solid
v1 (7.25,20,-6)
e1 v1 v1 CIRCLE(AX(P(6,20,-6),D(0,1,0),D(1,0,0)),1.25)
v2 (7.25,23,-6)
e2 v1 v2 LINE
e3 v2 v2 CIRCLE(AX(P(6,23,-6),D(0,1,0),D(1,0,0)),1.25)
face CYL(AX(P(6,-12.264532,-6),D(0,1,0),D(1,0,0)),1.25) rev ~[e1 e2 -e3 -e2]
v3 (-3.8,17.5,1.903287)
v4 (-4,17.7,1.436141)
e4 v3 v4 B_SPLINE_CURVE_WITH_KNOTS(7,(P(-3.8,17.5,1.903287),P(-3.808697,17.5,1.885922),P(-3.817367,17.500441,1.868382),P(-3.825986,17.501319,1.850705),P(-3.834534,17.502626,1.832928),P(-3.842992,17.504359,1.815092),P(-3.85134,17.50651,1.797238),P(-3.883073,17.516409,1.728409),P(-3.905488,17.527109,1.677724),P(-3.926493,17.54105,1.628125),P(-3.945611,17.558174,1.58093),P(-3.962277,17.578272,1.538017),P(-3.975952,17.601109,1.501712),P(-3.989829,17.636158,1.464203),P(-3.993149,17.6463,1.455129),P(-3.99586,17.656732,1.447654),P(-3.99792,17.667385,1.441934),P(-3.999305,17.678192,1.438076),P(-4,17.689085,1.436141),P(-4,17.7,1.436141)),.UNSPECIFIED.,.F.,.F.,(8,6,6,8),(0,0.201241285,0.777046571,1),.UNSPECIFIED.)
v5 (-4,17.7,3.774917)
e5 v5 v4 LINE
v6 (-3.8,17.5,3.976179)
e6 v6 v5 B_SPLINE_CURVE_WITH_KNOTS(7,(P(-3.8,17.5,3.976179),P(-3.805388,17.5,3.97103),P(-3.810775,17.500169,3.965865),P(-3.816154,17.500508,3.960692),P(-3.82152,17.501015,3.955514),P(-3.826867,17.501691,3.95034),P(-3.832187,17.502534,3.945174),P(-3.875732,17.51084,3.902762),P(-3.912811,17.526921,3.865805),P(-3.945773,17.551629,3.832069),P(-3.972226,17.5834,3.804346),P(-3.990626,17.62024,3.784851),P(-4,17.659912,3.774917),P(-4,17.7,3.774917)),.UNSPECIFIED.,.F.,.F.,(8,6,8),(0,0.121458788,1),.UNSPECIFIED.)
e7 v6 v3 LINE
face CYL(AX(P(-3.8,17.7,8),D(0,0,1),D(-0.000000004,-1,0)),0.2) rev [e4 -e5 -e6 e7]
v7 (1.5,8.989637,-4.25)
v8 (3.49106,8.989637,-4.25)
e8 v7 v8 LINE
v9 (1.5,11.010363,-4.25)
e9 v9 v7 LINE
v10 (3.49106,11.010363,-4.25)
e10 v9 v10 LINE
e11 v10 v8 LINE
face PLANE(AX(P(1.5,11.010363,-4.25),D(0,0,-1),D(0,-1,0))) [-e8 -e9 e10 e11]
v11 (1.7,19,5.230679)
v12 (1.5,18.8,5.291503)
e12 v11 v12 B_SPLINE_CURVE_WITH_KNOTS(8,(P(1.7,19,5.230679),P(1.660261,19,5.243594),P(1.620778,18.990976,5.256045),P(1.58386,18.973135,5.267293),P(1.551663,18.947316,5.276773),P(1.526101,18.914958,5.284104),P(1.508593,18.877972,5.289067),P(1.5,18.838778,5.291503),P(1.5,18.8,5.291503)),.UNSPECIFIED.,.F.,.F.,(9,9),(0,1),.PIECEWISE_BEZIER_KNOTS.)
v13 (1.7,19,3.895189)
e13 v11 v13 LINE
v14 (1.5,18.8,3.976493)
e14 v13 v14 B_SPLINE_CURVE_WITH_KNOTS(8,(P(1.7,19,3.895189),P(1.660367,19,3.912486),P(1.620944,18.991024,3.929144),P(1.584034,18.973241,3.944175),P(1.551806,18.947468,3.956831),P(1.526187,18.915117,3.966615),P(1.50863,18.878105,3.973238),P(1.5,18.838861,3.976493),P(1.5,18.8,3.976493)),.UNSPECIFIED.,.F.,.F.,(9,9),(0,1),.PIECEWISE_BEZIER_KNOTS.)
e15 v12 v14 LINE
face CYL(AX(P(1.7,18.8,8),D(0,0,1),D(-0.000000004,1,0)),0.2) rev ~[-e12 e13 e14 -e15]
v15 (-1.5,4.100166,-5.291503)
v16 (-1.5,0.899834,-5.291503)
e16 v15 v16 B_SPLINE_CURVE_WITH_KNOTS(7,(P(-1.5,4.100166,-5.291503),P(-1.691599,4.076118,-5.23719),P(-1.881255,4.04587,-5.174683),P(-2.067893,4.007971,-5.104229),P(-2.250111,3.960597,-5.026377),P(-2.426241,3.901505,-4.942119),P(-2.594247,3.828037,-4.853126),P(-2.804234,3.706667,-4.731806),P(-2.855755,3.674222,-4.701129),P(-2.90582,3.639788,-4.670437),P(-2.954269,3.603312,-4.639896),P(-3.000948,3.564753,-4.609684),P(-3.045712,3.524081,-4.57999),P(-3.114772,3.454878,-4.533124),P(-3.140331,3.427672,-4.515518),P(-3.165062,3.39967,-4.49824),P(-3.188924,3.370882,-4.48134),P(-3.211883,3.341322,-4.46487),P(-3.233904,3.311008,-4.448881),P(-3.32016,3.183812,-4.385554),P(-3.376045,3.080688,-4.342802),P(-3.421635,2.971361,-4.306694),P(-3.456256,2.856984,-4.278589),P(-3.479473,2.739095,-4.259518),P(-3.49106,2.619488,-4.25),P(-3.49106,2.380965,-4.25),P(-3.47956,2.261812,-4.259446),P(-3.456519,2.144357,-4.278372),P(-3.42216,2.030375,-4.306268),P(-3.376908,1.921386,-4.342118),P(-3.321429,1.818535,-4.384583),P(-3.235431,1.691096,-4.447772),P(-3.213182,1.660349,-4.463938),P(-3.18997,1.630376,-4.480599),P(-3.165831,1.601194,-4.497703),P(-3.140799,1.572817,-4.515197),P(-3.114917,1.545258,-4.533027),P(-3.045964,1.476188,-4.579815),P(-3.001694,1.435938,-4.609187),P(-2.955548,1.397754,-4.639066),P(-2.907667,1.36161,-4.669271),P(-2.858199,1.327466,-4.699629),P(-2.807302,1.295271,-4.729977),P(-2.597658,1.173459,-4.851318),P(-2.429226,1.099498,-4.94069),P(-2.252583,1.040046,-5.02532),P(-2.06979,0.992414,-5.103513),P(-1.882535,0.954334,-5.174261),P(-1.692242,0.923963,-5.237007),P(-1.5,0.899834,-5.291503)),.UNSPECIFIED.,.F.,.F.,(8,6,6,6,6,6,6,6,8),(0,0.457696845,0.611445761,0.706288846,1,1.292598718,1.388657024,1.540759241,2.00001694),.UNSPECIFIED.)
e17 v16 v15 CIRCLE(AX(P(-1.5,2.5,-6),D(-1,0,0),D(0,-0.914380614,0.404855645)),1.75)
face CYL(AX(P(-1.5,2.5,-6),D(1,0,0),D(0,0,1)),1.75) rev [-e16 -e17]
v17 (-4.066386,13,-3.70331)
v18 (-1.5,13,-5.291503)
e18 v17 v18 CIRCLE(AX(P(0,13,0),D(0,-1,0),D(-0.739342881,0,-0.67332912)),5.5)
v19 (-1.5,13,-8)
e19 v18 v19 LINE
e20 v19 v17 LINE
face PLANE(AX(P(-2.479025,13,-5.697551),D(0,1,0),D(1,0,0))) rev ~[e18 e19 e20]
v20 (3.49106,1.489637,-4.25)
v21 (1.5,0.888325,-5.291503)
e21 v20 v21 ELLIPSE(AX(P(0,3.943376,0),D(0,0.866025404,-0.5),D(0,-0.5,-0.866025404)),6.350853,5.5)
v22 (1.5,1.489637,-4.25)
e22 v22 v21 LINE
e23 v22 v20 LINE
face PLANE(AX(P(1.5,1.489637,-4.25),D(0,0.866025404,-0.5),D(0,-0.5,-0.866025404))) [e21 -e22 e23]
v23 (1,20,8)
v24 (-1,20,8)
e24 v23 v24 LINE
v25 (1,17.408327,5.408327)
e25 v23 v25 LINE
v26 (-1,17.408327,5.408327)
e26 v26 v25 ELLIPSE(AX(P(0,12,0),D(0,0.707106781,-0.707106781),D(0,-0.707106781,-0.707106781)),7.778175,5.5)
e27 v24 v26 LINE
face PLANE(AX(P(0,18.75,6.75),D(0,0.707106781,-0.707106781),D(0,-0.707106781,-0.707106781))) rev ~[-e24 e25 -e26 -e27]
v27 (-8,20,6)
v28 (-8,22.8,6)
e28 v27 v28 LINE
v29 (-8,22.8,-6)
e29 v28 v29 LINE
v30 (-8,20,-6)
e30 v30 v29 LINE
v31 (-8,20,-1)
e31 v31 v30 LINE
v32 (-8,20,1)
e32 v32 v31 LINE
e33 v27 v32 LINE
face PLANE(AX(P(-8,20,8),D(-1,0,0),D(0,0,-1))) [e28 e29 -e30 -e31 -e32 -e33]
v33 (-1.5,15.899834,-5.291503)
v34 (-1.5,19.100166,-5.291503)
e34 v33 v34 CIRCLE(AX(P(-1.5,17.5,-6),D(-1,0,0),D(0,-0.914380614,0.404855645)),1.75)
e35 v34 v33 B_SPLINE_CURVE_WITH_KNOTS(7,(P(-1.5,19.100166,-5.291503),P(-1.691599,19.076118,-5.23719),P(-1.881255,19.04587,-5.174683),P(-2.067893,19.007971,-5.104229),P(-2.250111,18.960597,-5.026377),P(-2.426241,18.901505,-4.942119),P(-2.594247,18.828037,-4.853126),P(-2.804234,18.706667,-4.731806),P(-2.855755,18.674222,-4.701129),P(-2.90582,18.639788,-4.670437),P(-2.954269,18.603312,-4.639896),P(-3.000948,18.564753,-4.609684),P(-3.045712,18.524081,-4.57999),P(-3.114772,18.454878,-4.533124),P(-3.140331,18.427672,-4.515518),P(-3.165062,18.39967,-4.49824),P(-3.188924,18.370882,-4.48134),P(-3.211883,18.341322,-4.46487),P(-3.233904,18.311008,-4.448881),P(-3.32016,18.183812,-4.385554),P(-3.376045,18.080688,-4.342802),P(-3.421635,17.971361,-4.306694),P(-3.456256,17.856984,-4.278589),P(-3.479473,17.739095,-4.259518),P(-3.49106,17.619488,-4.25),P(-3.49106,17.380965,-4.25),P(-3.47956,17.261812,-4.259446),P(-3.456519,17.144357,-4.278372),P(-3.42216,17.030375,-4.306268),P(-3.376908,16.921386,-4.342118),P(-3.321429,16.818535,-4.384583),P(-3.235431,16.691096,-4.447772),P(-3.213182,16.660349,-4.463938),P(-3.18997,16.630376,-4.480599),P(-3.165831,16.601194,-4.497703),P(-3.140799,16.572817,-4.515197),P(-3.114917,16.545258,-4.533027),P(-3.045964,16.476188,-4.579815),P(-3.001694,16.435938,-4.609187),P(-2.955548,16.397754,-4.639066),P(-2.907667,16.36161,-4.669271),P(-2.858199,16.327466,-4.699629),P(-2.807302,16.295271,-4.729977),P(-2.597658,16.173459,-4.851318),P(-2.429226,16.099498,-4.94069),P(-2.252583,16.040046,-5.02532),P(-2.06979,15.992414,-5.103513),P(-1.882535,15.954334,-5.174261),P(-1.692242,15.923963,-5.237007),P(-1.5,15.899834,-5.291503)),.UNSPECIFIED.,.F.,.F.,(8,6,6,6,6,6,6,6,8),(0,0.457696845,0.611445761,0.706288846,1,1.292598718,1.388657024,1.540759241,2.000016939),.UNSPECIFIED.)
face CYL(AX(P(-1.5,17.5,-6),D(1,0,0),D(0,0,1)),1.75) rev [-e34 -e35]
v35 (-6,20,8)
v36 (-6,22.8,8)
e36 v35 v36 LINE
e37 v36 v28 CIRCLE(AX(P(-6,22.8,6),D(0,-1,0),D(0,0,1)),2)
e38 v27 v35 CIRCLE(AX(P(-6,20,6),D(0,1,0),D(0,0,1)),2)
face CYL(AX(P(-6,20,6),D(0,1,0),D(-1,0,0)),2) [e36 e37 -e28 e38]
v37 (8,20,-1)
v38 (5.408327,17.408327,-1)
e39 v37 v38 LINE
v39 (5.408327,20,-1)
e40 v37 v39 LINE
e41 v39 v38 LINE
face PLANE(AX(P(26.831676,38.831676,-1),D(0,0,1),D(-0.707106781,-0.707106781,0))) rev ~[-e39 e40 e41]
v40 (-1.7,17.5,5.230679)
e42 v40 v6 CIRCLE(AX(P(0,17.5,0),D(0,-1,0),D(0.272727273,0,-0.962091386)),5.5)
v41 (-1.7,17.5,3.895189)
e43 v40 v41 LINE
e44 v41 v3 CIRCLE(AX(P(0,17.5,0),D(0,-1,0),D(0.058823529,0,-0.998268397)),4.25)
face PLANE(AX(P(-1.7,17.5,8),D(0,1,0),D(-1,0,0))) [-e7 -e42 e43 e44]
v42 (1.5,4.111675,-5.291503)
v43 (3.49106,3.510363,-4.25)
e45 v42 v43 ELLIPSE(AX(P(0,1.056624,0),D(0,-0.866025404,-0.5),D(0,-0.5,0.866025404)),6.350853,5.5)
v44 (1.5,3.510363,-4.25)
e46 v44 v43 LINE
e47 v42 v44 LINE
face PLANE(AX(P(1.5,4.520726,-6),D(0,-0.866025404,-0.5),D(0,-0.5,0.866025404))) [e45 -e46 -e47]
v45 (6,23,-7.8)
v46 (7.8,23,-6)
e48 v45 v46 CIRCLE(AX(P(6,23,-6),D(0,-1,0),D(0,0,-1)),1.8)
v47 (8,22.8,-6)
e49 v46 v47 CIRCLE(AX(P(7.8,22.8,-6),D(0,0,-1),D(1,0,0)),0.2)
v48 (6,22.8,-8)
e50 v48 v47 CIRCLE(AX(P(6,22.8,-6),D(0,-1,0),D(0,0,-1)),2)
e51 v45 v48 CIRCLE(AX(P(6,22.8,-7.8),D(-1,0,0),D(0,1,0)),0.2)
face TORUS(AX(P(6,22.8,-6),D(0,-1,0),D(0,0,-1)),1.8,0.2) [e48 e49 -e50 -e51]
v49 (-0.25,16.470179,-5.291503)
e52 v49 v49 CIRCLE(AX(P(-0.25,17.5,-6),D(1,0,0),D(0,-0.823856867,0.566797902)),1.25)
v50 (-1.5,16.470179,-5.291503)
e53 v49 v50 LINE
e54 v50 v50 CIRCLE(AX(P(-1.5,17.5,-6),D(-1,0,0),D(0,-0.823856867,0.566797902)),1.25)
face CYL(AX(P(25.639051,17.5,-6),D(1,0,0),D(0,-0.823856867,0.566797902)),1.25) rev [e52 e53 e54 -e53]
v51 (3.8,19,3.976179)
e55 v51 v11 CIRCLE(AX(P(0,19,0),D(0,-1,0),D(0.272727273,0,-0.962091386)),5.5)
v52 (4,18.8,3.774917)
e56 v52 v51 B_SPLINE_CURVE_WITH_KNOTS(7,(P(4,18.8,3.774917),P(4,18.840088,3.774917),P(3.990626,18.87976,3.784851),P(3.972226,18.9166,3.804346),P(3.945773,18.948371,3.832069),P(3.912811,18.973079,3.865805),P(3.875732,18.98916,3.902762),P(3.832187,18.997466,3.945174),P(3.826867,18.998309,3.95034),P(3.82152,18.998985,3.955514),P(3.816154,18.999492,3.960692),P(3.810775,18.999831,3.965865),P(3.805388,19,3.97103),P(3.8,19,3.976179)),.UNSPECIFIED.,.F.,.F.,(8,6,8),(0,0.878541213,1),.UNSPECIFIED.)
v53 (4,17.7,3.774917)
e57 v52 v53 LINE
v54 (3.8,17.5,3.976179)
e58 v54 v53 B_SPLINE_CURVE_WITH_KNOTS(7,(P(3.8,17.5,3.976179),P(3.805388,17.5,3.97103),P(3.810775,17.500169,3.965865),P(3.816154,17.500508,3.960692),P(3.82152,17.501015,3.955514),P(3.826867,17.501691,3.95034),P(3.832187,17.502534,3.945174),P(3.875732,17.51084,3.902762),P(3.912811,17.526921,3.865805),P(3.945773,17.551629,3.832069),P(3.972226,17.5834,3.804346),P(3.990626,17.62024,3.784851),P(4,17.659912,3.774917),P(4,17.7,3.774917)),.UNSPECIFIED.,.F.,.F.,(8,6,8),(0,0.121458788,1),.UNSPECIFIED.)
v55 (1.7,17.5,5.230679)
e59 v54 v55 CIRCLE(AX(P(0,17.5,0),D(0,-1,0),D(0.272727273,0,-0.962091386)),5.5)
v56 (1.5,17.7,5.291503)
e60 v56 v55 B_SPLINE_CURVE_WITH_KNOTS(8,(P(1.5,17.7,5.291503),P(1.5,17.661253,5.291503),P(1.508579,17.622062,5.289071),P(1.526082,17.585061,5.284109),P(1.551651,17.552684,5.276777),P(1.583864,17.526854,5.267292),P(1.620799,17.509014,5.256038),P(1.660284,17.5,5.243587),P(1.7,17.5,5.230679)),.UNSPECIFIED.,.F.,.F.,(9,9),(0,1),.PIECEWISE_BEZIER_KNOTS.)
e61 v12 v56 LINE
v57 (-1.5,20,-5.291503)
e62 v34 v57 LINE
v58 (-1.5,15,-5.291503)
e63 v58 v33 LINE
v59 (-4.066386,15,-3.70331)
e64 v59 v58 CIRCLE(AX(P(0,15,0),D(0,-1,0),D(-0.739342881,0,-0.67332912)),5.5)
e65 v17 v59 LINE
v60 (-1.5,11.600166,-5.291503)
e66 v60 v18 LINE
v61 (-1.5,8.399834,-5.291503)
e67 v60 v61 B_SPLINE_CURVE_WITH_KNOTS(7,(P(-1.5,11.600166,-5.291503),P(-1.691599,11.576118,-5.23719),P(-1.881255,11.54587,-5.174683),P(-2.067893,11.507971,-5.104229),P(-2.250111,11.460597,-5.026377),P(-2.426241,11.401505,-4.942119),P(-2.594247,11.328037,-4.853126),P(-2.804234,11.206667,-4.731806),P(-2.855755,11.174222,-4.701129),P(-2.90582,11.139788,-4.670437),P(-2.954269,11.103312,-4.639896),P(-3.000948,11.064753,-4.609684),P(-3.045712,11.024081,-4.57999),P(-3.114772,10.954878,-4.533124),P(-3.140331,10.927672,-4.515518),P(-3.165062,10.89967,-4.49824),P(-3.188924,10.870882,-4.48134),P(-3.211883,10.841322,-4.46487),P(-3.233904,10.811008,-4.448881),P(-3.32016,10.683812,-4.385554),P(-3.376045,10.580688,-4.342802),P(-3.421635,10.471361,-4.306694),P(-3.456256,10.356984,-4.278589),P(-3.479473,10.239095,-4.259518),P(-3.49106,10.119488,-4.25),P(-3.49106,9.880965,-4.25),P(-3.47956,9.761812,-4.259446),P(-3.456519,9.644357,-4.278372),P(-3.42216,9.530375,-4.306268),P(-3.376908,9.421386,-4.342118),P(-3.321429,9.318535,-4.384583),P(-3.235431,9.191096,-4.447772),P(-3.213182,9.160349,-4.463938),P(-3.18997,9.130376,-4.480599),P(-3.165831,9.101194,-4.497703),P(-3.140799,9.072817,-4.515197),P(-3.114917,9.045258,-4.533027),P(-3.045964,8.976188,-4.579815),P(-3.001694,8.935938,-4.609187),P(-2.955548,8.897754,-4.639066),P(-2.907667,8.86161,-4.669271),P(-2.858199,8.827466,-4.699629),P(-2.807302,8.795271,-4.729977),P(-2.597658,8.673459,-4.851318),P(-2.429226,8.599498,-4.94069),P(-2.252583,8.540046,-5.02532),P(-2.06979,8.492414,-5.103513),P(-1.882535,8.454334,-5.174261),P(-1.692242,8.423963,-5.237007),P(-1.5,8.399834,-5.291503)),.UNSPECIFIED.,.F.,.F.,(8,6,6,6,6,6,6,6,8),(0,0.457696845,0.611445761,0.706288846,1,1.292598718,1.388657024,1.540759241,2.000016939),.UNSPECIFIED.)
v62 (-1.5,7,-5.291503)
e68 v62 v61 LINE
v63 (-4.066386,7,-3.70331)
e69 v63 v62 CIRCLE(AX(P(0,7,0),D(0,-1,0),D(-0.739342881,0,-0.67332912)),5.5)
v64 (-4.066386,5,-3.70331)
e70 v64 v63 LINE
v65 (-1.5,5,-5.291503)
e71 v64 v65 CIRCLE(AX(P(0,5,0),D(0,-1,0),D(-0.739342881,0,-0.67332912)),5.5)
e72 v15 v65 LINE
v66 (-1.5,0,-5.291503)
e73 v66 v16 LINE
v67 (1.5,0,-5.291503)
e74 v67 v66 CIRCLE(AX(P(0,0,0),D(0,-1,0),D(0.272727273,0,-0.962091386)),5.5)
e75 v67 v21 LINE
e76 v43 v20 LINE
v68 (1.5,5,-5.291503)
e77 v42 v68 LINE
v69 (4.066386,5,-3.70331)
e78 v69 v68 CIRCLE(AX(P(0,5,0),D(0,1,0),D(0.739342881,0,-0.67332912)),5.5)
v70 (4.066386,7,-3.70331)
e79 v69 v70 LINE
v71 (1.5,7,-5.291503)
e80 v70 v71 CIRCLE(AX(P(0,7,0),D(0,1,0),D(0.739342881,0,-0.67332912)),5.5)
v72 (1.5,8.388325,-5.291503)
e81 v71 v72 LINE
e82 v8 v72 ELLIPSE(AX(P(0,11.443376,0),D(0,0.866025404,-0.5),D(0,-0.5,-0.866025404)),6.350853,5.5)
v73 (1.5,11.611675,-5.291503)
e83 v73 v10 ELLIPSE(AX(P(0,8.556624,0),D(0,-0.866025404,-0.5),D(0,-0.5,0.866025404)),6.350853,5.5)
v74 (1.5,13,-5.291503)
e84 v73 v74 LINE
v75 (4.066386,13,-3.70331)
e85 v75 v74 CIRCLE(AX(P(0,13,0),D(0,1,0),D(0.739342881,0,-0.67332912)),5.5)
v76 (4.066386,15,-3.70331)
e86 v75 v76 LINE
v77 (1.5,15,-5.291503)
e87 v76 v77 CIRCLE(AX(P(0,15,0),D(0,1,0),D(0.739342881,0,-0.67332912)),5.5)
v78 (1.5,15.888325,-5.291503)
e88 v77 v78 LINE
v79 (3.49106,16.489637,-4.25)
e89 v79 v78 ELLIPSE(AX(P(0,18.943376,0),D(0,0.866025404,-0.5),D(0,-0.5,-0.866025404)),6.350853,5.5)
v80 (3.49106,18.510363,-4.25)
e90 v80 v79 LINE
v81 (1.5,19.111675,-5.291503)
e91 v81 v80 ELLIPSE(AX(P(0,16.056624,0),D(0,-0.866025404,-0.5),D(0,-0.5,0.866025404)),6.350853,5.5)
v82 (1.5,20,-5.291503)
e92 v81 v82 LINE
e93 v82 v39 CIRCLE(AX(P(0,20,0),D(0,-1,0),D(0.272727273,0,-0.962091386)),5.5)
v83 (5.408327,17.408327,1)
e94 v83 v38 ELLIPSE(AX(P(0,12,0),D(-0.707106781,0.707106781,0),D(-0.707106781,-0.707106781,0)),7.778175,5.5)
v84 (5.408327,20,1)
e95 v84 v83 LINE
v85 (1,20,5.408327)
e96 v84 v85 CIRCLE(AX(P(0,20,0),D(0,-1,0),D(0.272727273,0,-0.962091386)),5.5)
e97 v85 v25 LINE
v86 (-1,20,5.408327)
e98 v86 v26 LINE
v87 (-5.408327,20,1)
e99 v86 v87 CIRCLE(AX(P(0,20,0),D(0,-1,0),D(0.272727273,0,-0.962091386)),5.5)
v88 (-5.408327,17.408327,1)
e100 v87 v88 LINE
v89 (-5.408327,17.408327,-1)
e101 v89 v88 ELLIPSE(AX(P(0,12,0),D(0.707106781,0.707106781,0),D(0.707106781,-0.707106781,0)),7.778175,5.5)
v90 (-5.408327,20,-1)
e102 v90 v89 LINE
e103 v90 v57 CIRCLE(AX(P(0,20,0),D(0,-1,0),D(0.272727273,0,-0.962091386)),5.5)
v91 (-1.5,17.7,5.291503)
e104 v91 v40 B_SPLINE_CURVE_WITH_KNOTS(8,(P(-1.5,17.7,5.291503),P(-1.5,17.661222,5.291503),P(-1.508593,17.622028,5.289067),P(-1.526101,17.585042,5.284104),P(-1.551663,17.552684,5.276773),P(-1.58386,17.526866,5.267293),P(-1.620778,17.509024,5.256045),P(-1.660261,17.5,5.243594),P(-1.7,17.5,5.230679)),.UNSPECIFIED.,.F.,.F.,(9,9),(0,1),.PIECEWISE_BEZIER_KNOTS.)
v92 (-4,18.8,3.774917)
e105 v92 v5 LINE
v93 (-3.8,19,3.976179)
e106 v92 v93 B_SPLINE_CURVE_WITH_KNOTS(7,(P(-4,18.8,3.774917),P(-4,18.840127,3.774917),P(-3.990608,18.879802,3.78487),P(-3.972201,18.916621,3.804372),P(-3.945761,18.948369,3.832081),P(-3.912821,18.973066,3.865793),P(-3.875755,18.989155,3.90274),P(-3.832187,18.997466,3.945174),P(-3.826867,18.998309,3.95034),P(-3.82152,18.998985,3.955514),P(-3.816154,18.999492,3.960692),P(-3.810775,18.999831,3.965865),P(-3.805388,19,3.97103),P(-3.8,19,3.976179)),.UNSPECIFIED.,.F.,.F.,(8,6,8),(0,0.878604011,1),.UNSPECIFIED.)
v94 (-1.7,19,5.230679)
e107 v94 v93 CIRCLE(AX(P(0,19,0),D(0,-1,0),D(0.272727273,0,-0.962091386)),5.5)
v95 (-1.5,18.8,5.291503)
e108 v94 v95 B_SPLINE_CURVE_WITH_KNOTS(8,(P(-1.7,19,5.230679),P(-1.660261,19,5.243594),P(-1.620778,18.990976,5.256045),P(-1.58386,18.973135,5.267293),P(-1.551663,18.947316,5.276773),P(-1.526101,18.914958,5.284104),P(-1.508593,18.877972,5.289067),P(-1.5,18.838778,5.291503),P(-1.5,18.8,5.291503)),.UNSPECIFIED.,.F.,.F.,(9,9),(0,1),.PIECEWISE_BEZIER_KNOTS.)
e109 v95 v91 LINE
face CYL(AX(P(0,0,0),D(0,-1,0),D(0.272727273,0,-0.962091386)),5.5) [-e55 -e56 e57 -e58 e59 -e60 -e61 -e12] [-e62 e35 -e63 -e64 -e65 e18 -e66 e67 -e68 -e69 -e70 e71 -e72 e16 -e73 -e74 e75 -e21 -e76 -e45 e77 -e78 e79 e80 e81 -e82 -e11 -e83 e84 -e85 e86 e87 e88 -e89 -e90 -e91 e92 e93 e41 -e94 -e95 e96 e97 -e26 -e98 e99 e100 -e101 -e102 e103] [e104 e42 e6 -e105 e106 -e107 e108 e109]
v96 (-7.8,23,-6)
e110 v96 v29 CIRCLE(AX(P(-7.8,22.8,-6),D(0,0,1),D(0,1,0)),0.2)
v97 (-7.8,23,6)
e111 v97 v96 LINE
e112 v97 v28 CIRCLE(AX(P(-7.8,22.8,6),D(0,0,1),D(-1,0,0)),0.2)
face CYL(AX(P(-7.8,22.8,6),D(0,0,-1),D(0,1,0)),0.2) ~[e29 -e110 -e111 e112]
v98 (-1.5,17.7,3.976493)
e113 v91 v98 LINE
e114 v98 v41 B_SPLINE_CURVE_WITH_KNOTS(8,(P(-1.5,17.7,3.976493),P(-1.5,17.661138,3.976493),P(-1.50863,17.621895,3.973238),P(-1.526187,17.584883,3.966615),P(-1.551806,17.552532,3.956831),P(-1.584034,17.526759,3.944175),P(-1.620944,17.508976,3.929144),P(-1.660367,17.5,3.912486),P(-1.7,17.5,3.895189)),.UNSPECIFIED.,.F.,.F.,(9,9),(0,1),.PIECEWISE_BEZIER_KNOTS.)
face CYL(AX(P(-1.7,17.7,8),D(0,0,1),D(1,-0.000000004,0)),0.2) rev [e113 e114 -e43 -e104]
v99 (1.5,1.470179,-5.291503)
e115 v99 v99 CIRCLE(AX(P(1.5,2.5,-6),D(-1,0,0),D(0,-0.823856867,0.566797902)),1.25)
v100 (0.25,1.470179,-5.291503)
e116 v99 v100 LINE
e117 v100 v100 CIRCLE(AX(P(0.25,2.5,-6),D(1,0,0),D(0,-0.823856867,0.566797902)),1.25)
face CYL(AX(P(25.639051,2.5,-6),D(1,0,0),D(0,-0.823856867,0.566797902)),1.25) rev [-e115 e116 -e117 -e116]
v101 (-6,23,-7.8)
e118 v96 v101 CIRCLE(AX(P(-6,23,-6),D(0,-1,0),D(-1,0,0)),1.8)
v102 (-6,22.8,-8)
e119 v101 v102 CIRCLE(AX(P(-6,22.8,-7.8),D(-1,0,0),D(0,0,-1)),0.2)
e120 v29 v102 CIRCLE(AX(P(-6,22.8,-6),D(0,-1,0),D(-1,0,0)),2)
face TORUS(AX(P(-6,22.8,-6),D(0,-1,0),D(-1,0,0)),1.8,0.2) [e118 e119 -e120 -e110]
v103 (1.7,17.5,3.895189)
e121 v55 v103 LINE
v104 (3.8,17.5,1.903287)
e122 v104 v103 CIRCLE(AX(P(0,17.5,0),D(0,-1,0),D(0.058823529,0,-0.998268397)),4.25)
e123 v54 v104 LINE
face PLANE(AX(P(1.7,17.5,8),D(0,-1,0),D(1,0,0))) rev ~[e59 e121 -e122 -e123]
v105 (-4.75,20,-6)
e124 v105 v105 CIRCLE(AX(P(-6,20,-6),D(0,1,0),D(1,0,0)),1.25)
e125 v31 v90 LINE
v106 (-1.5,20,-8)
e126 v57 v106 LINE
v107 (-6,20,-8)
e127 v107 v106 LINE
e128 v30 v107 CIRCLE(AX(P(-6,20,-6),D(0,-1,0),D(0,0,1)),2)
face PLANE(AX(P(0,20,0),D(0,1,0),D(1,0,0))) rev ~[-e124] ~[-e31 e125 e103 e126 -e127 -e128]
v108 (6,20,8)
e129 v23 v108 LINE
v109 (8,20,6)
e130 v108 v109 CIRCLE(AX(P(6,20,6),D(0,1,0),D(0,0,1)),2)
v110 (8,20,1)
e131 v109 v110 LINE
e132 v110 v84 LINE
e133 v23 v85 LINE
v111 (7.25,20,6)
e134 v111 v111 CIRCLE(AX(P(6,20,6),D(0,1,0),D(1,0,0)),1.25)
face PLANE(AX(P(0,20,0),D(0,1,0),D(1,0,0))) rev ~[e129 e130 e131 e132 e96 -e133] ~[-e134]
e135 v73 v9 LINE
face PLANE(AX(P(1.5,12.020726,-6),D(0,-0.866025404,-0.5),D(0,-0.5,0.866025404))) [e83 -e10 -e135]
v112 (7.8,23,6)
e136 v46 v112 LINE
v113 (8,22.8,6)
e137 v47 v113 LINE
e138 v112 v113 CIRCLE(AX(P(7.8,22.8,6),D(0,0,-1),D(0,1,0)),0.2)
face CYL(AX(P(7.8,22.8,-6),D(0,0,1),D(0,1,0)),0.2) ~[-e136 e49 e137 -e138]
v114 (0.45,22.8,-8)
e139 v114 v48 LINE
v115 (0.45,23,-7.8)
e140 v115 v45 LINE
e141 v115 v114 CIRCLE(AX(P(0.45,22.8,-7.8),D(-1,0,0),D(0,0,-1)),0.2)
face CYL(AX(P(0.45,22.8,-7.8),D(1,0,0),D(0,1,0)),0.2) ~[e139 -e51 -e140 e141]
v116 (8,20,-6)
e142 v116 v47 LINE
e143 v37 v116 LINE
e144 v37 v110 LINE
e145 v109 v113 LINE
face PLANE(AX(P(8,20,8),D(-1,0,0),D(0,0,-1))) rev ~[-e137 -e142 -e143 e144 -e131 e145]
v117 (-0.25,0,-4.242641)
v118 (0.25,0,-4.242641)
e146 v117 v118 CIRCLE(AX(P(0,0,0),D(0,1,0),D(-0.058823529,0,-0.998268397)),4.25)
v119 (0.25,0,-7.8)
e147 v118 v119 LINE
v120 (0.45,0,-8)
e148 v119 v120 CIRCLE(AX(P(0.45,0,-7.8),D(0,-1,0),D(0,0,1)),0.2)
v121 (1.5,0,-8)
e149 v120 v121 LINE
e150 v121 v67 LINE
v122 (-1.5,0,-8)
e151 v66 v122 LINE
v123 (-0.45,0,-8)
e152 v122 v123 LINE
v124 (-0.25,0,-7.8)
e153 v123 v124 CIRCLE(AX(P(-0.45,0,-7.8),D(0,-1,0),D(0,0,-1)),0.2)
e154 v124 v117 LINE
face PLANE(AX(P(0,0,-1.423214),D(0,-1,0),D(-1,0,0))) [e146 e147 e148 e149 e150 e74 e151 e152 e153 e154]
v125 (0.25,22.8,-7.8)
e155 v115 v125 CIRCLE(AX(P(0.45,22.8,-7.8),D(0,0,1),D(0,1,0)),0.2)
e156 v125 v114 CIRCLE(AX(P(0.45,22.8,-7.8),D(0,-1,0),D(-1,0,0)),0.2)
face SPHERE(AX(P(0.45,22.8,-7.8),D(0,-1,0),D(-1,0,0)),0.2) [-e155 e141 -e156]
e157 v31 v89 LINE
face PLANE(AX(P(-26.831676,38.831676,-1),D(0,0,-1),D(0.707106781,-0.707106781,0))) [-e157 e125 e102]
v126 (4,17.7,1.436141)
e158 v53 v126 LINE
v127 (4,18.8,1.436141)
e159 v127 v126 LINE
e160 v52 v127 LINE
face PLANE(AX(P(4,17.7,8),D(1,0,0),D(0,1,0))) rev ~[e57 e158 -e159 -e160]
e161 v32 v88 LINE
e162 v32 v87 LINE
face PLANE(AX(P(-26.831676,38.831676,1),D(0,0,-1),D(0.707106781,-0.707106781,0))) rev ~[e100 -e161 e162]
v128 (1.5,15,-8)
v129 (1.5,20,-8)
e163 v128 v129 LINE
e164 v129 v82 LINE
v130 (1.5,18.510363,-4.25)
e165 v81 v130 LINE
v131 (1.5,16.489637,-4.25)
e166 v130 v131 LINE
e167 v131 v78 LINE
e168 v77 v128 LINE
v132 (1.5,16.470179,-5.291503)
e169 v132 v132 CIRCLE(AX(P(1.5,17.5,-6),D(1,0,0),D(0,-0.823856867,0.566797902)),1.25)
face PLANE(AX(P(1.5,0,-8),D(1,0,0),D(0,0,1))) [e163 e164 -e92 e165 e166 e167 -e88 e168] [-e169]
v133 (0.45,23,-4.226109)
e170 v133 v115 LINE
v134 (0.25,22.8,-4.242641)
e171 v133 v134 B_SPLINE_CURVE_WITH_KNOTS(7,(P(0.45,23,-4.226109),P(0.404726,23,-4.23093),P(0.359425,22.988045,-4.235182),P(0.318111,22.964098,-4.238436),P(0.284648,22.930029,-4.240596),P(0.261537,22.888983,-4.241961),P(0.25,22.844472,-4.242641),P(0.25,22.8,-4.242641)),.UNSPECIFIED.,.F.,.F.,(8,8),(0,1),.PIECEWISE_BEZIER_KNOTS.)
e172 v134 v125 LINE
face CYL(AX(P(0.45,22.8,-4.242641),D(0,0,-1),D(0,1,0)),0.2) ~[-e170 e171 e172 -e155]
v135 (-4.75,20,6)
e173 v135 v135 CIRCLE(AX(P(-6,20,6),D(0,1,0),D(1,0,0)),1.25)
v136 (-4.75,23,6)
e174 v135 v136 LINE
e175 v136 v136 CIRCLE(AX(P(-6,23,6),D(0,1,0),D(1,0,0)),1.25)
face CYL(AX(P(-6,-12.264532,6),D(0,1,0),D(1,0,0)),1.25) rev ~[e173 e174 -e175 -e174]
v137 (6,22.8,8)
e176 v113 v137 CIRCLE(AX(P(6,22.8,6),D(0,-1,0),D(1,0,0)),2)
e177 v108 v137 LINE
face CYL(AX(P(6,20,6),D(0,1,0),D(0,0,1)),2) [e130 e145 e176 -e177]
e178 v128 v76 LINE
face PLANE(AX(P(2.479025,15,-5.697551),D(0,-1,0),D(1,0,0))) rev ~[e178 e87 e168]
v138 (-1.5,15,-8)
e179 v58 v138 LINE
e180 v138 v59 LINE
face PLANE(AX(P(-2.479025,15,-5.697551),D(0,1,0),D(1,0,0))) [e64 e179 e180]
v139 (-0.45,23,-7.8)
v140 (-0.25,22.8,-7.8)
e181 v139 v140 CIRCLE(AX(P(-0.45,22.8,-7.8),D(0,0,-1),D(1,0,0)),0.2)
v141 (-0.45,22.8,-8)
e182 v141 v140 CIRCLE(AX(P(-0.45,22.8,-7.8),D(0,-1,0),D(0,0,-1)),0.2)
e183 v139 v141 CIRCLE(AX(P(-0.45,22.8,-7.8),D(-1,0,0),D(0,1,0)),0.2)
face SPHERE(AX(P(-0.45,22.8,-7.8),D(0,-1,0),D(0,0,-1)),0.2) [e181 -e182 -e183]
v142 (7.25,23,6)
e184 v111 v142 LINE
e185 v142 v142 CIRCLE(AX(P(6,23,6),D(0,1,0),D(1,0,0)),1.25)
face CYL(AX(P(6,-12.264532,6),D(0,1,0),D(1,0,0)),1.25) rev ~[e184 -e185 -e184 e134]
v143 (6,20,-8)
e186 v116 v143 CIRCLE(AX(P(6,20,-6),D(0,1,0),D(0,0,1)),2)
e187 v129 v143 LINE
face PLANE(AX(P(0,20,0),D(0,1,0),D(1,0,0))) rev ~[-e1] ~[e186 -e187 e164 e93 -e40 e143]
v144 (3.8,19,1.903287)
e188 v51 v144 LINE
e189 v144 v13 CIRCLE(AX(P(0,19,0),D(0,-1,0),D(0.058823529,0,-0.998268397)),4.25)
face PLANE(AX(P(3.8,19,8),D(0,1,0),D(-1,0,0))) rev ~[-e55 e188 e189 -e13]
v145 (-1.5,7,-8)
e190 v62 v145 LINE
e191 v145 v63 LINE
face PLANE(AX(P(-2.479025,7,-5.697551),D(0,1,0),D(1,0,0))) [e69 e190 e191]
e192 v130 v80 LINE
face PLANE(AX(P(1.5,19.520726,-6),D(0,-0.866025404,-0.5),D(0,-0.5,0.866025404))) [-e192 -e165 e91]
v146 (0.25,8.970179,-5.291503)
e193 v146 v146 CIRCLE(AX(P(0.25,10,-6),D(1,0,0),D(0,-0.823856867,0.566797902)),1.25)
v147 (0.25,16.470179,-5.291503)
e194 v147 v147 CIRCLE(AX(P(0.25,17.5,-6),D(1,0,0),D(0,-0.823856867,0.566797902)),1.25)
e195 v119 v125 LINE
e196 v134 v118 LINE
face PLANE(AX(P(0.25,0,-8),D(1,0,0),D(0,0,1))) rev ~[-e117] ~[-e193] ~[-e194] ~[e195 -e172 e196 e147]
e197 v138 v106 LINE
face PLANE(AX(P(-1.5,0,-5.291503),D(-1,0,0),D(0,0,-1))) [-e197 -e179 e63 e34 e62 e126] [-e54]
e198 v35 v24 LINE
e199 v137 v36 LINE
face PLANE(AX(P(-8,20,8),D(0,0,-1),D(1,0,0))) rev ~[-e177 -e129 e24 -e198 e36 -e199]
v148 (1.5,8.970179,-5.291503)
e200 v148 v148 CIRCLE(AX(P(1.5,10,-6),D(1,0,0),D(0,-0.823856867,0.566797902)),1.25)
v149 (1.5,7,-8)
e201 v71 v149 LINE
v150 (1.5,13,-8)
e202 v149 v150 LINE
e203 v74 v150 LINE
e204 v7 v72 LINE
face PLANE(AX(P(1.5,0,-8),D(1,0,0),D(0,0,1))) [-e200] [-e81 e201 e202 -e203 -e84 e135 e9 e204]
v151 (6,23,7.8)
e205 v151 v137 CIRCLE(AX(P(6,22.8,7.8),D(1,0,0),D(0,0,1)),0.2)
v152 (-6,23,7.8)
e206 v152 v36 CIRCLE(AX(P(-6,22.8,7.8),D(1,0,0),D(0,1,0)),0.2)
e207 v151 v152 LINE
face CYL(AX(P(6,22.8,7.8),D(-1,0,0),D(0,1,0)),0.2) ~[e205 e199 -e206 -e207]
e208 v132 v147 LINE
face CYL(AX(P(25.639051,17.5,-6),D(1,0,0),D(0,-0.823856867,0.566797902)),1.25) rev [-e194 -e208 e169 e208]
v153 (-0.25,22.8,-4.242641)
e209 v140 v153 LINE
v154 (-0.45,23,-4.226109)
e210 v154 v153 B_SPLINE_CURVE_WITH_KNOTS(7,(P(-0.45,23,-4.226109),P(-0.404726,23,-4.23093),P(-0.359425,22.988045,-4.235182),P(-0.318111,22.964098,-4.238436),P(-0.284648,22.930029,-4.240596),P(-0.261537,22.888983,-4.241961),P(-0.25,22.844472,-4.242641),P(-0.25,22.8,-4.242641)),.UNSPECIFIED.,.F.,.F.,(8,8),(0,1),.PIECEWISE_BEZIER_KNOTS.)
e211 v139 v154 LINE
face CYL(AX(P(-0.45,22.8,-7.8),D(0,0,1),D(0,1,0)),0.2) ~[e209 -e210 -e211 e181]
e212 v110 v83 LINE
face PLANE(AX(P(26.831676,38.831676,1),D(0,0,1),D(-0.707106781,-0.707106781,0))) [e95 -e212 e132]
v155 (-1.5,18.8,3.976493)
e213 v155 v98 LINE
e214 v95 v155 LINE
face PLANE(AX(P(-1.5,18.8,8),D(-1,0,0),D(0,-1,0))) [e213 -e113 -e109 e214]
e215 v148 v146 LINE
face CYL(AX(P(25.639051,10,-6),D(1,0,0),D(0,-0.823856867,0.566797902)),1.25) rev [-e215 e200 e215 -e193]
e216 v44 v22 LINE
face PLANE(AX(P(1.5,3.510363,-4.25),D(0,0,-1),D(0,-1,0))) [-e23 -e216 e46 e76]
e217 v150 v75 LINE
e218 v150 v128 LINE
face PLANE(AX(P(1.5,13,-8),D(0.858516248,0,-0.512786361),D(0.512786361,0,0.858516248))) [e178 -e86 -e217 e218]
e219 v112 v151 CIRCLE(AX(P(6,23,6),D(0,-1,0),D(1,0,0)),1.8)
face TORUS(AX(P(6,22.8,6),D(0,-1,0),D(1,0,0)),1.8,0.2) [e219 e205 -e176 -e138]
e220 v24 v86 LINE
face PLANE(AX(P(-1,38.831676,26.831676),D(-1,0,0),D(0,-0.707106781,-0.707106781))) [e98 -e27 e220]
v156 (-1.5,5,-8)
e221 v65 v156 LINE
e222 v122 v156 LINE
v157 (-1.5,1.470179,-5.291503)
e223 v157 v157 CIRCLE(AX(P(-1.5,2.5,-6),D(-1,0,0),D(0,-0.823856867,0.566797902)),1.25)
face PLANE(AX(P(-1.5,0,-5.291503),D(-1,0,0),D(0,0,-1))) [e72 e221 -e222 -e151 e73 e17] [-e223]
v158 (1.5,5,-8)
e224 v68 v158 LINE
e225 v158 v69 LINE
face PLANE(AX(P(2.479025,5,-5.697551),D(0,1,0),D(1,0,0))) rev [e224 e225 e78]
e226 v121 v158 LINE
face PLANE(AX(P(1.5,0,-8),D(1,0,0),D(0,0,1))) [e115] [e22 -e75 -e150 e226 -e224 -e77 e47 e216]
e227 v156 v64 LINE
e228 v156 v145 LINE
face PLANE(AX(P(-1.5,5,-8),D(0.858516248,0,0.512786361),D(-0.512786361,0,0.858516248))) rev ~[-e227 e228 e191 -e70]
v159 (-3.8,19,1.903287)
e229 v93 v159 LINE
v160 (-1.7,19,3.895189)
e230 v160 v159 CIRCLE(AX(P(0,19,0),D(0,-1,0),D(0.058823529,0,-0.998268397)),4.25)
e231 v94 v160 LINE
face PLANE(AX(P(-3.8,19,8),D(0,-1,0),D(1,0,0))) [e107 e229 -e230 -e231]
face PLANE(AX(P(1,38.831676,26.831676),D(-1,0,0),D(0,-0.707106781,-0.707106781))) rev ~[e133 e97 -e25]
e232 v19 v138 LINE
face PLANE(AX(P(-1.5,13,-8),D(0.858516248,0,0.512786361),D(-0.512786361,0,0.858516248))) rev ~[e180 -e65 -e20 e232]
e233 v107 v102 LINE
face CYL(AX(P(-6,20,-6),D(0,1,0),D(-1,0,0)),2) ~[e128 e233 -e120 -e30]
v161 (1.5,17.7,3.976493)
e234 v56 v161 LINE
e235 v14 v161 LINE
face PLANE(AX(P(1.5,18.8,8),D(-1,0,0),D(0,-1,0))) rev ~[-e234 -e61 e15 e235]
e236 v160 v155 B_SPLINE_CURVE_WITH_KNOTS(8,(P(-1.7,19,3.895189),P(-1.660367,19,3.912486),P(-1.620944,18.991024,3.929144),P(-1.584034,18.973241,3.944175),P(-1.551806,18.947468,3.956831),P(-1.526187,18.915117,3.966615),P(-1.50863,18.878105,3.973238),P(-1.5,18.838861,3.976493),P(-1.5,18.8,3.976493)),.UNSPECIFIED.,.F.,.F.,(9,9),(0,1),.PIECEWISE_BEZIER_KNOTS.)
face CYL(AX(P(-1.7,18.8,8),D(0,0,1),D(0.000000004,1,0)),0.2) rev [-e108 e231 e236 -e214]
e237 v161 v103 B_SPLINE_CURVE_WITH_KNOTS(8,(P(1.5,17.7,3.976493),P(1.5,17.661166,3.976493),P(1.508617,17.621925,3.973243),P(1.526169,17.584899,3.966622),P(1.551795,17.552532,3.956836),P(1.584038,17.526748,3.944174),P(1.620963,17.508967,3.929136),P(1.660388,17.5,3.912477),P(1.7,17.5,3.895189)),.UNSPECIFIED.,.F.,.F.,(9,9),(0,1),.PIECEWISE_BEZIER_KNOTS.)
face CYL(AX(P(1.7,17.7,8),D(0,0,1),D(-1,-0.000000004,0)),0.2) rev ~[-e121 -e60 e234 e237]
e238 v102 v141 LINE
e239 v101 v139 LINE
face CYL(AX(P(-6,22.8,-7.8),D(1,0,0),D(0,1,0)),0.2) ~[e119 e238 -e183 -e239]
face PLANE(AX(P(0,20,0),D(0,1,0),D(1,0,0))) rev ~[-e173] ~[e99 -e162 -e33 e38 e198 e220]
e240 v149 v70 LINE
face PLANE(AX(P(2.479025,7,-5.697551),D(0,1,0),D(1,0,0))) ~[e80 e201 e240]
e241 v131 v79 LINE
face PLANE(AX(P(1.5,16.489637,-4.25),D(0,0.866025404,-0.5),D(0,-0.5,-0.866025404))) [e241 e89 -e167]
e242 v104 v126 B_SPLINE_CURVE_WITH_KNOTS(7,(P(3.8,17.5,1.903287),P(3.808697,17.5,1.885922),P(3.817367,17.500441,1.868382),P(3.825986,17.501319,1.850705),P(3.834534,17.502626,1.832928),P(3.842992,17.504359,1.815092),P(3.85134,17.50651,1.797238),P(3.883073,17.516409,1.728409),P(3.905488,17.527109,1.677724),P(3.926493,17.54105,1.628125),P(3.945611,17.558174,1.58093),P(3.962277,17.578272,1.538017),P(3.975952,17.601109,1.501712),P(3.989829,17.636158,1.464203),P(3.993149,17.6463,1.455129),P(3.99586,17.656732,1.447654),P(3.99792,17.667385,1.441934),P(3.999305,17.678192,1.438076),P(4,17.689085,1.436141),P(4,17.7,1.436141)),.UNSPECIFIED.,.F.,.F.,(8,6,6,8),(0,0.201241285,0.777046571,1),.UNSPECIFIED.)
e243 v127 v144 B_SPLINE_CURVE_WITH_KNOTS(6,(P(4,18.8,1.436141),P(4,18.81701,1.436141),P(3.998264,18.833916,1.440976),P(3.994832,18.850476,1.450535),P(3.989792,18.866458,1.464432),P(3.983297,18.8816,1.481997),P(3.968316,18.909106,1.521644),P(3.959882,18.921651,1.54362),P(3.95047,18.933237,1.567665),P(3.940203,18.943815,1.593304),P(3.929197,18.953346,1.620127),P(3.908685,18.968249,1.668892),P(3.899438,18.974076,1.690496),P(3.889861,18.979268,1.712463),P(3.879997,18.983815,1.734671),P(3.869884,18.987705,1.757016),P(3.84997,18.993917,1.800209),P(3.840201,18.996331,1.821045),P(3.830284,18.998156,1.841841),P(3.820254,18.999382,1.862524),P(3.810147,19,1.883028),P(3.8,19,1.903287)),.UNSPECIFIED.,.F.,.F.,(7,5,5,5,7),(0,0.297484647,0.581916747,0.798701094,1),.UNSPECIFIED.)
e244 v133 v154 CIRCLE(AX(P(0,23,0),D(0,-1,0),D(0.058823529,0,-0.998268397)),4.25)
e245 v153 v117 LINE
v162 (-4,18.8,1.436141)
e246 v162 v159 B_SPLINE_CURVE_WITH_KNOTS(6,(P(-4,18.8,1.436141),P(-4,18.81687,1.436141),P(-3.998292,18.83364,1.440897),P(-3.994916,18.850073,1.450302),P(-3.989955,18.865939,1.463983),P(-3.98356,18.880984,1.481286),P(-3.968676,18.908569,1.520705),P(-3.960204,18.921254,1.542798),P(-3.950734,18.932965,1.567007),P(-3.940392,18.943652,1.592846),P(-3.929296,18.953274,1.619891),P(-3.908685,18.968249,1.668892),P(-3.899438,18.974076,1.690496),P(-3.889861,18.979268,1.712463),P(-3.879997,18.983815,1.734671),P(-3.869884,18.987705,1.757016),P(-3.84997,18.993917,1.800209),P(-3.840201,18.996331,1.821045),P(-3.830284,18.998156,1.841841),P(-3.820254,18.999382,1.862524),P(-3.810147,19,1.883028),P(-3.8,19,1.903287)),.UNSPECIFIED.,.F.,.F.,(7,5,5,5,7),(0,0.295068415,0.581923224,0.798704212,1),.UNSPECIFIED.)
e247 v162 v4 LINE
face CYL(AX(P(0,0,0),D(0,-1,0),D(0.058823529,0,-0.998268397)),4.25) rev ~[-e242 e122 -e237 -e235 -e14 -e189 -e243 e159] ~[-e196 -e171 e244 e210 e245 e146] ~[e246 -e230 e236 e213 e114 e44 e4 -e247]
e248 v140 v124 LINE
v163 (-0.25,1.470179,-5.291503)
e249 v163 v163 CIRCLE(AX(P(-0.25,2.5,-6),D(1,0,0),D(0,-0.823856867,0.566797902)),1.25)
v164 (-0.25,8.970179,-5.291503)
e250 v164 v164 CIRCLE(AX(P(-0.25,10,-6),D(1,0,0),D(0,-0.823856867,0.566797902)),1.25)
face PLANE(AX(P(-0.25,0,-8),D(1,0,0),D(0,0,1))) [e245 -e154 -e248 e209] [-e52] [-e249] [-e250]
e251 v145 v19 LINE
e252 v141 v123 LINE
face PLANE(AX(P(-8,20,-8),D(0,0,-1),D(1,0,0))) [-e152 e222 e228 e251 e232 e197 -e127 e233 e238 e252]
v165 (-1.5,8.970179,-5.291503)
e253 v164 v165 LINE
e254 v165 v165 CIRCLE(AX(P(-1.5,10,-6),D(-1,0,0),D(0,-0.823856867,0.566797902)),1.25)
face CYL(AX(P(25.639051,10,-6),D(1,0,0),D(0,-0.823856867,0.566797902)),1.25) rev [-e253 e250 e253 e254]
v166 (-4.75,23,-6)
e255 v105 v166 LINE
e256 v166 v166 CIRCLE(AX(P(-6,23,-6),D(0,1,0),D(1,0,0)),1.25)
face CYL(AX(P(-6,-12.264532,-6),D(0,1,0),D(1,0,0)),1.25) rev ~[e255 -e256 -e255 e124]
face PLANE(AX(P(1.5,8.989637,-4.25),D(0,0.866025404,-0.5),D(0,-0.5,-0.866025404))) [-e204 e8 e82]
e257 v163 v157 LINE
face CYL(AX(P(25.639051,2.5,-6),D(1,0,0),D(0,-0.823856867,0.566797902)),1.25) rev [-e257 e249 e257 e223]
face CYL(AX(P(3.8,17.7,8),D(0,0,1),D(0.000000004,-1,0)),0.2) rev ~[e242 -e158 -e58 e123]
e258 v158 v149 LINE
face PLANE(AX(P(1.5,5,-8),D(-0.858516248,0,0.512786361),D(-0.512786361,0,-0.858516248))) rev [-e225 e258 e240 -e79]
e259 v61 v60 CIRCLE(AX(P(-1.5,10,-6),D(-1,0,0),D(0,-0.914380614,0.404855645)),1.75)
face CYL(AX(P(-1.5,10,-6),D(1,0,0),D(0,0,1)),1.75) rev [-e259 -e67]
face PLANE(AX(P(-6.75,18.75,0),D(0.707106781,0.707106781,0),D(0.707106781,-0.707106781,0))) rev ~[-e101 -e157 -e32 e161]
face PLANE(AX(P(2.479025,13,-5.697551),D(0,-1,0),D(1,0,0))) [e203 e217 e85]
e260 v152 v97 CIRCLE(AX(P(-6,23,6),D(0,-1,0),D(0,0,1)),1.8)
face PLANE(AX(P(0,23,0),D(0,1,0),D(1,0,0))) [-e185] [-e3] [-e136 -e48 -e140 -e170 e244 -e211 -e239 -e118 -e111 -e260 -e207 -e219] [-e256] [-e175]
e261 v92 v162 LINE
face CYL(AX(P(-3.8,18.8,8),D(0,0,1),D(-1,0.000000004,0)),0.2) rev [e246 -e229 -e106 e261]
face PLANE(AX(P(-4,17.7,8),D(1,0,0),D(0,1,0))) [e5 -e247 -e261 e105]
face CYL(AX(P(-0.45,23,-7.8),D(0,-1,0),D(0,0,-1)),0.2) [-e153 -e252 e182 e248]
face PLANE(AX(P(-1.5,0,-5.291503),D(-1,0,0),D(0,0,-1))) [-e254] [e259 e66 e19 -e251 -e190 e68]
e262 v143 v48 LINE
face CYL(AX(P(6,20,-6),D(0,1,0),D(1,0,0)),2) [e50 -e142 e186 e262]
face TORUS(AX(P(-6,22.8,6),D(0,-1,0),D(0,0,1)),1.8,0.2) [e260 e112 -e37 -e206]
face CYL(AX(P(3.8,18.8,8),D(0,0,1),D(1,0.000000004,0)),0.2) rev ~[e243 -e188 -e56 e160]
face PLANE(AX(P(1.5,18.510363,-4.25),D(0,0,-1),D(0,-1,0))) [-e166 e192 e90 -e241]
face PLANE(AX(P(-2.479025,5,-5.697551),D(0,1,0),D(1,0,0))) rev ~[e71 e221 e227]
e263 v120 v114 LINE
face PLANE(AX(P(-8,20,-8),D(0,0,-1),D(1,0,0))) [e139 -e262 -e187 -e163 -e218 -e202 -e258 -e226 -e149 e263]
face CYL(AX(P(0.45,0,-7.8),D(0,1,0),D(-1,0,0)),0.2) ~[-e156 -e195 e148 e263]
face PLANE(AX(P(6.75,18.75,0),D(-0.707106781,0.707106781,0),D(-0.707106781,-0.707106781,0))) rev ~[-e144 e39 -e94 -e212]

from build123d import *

# Parameters (mm, degrees)
EXTRUDE_1_DEPTH          = 20
SKETCH_2_W               = 16
SKETCH_2_H               = 16
EXTRUDE_2_DEPTH          = 3
CUT_EXTRUDE_1_DEPTH      = 26.632011236
RIB_1_REACH              = 27.632
SKETCH_4_WALL_W          = 56.799556378
SKETCH_4_WALL_H          = 2
PATTERN_CIRCULAR_1_COUNT = 4
EXTRUDE_3_DEPTH          = 2
PATTERN_LINEAR_1_COUNT   = 2
PATTERN_LINEAR_1_PITCH   = 8
MIRROR_1_COPY_1_DEPTH    = 2
FILLET_1_R               = 2
FILLET_2_R               = 0.2
FILLET_4_R               = 0.2
HOLE_WIZARD_M3_1_D       = 2.5
CUT_EXTRUDE_2_DEPTH      = 27.139051364
CUT_EXTRUDE_2_DEPTH_BACK = 27.139051364
SKETCH_11_R              = 1.25
SKETCH_12_R              = 1.75
CUT_EXTRUDE_3_DEPTH      = 2
CUT_EXTRUDE_4_DEPTH      = 2
CUT_EXTRUDE_5_DEPTH      = 8


with BuildPart() as part:
    # 草图1 → 凸台-拉伸1 (new body)
    with BuildSketch(Plane(origin=(0, 0, 0), x_dir=(1, 0, 0), z_dir=(0, 1, 0))):
        with BuildLine():
            Line((-0.25, 8), (-0.25, 4.242640687))
            ThreePointArc((-0.25, 4.242640687), (0, -4.25), (0.25, 4.242640687))
            Line((0.25, 4.242640687), (0.25, 8))
            Line((0.25, 8), (1.5, 8))
            Line((1.5, 8), (1.5, 5.291502622))
            ThreePointArc((1.5, 5.291502622), (0, -5.5), (-1.5, 5.291502622))
            Line((-1.5, 5.291502622), (-1.5, 8))
            Line((-1.5, 8), (-0.25, 8))
        make_face()
    extrude(amount=EXTRUDE_1_DEPTH)

    # 草图2 → 凸台-拉伸2 (add)
    with BuildSketch(Plane(origin=(0, 20, 0), x_dir=(1, 0, 0), z_dir=(0, 1, 0))):
        Rectangle(SKETCH_2_W, SKETCH_2_H)
    extrude(amount=EXTRUDE_2_DEPTH)

    # 草图3 → 切除-拉伸1 (cut, through all)
    with BuildSketch(Plane.XZ):
        with BuildLine():
            Line((-0.25, -8), (0.25, -8))
            Line((0.25, -8), (0.25, -4.242640687))
            ThreePointArc((0.25, -4.242640687), (0, 4.25), (-0.25, -4.242640687))
            Line((-0.25, -4.242640687), (-0.25, -8))
        make_face()
    extrude(amount=-CUT_EXTRUDE_1_DEPTH, mode=Mode.SUBTRACT)

    # 草图4 wall → 筋1 (add, up to next)
    with BuildSketch(Plane(origin=(-6.75, 18.75, 0), x_dir=(0.707106781187, -0.707106781187, 0), z_dir=(0.707106781187, 0.707106781187, 0)), mode=Mode.PRIVATE) as rib_1_sk1:
        Rectangle(SKETCH_4_WALL_W, SKETCH_4_WALL_H)
    rib_1_tool1 = extrude(rib_1_sk1.sketch, amount=RIB_1_REACH, mode=Mode.PRIVATE) - part.part
    rib_1 = rib_1_tool1.solids().sort_by_distance((-6.75, 18.75, 0))[0]
    add(rib_1)

    # 阵列(圆周)1: 筋1 ×4 about axis, 1 skipped
    pattern_circular_1_axis = Axis((0, 0, 0), (0, 1, 0))
    add([rib_1.rotate(pattern_circular_1_axis, i * 360 / PATTERN_CIRCULAR_1_COUNT) for i in range(1, PATTERN_CIRCULAR_1_COUNT) if i not in (3,)])

    # 草图6 → 凸台-拉伸3 (add)
    with BuildSketch(Plane(origin=(0, 5, 0), x_dir=(1, 0, 0), z_dir=(0, 1, 0))):
        with BuildLine():
            Line((-1.5, 8), (-4.066385849, 3.703310158))
            ThreePointArc((-4.066385849, 3.703310158), (-2.894261854, 4.676884467), (-1.5, 5.291502622))
            Line((-1.5, 5.291502622), (-1.5, 8))
        make_face()
    extrude_3 = extrude(amount=EXTRUDE_3_DEPTH)

    # 阵列(线性)1: 凸台-拉伸3 ×2
    with Locations(*[(0, i * PATTERN_LINEAR_1_PITCH, 0) for i in range(1, PATTERN_LINEAR_1_COUNT)]):
        add(extrude_3)

    # 镜向1: 凸台-拉伸3 across plane
    add(extrude_3.mirror(Plane(origin=(0, 0, 0), x_dir=(0, 0, 1), z_dir=(1, 0, 0))))

    # 镜向1 copy 1 sketch → 镜向1 copy 1 (add)
    with BuildSketch(Plane(origin=(0, 13, 0), x_dir=(-1, 0, 0), z_dir=(0, 1, 0))):
        with BuildLine():
            Line((-1.5, -8), (-4.066385849, -3.703310158))
            ThreePointArc((-4.066385849, -3.703310158), (-2.894261854, -4.676884467), (-1.5, -5.291502622))
            Line((-1.5, -5.291502622), (-1.5, -8))
        make_face()
    extrude(amount=MIRROR_1_COPY_1_DEPTH)

    # 圆角1
    fillet_1_edges = [part.edges().sort_by_distance(p)[0] for p in [
        (-8, 21.5, -8),
        (-8, 21.5, 8),
        (8, 21.5, 8),
        (8, 21.5, -8),
    ]]
    fillet(fillet_1_edges, radius=FILLET_1_R)

    # 圆角2
    fillet_2_edges = [part.edges().sort_by_distance(p)[0] for p in [
        (-0.25, 10, -8),
        (0.25, 10, -8),
    ]]
    fillet(fillet_2_edges, radius=FILLET_2_R)

    # 圆角4
    fillet_4_edges = [part.edges().sort_by_distance(p)[0] for p in [
        (3.225, 23, -8),
        (8, 23, 0),
        (-8, 23, 0),
        (0, 23, 8),
        (-7.414213562, 23, -7.414213562),
        (-7.414213562, 23, 7.414213562),
        (7.414213562, 23, 7.414213562),
        (7.414213562, 23, -7.414213562),
        (0.25, 23, -6.021320344),
        (-3.225, 23, -8),
        (-0.308578644, 23, -7.941421356),
        (0.308578644, 23, -7.941421356),
        (-0.25, 23, -6.021320344),
    ]]
    fillet(fillet_4_edges, radius=FILLET_4_R)

    # M3 螺纹孔的螺纹孔钻头1 (through all)
    with Locations(Plane(origin=(0, 20, 0), x_dir=(-1, 0, 0), z_dir=(0, -1, 0))):
        with Locations((6, 6), (6, -6), (-6, 6), (-6, -6)):
            Hole(HOLE_WIZARD_M3_1_D / 2)

    # 草图11 → 切除-拉伸2 (cut, two sides: drawn at the far end of the back side and taken through both)
    with BuildSketch(Plane.ZY.offset(1.5).offset(-CUT_EXTRUDE_2_DEPTH_BACK)):
        with Locations(Location((-6, 17.5, 0), (0, 0, 304.527234227))):
            Circle(SKETCH_11_R)
        with Locations(Location((-6, 10, 0), (0, 0, 304.527234227))):
            Circle(SKETCH_11_R)
        with Locations(Location((-6, 2.5, 0), (0, 0, 304.527234227))):
            Circle(SKETCH_11_R)
    extrude(amount=CUT_EXTRUDE_2_DEPTH + CUT_EXTRUDE_2_DEPTH_BACK, mode=Mode.SUBTRACT)

    # 草图12 → 切除-拉伸3 (cut)
    with BuildSketch(Plane.ZY.offset(1.5)):
        with Locations((-6, 17.5)):
            Circle(SKETCH_12_R)
        with Locations((-6, 10)):
            Circle(SKETCH_12_R)
        with Locations((-6, 2.5)):
            Circle(SKETCH_12_R)
    extrude(amount=CUT_EXTRUDE_3_DEPTH, mode=Mode.SUBTRACT)

    # 草图13 → 切除-拉伸4 (cut)
    with BuildSketch(Plane(origin=(1.5, 0, 0), x_dir=(0, 0, -1), z_dir=(1, 0, 0))):
        Polygon((6, 19.520725942), (4.25, 18.510362971), (4.25, 16.489637029), (6, 15.479274058), (7.75, 16.489637029), (7.75, 18.510362971), align=None)
        Polygon((6, 12.020725942), (4.25, 11.010362971), (4.25, 8.989637029), (6, 7.979274058), (7.75, 8.989637029), (7.75, 11.010362971), align=None)
        Polygon((6, 4.520725942), (4.25, 3.510362971), (4.25, 1.489637029), (6, 0.479274058), (7.75, 1.489637029), (7.75, 3.510362971), align=None)
    extrude(amount=CUT_EXTRUDE_4_DEPTH, mode=Mode.SUBTRACT)

    # 草图16 → 切除-拉伸5 (cut)
    with BuildSketch(Plane.XY.offset(8)):
        with BuildLine():
            Line((-3.8, 19), (-1.7, 19))
            ThreePointArc((-1.7, 19), (-1.558578644, 18.941421356), (-1.5, 18.8))
            Line((-1.5, 18.8), (-1.5, 17.7))
            ThreePointArc((-1.5, 17.7), (-1.558578644, 17.558578644), (-1.7, 17.5))
            Line((-1.7, 17.5), (-3.8, 17.5))
            ThreePointArc((-3.8, 17.5), (-3.941421356, 17.558578644), (-4, 17.7))
            Line((-4, 17.7), (-4, 18.8))
            ThreePointArc((-4, 18.8), (-3.941421356, 18.941421356), (-3.8, 19))
        make_face()
        with BuildLine():
            Line((1.5, 18.8), (1.5, 17.7))
            ThreePointArc((1.5, 17.7), (1.558578644, 17.558578644), (1.7, 17.5))
            Line((1.7, 17.5), (3.8, 17.5))
            ThreePointArc((3.8, 17.5), (3.941421356, 17.558578644), (4, 17.7))
            Line((4, 17.7), (4, 18.8))
            ThreePointArc((4, 18.8), (3.941421356, 18.941421356), (3.8, 19))
            Line((3.8, 19), (1.7, 19))
            ThreePointArc((1.7, 19), (1.558578644, 18.941421356), (1.5, 18.8))
        make_face()
    extrude(amount=-CUT_EXTRUDE_5_DEPTH, mode=Mode.SUBTRACT)


solid = part.part
